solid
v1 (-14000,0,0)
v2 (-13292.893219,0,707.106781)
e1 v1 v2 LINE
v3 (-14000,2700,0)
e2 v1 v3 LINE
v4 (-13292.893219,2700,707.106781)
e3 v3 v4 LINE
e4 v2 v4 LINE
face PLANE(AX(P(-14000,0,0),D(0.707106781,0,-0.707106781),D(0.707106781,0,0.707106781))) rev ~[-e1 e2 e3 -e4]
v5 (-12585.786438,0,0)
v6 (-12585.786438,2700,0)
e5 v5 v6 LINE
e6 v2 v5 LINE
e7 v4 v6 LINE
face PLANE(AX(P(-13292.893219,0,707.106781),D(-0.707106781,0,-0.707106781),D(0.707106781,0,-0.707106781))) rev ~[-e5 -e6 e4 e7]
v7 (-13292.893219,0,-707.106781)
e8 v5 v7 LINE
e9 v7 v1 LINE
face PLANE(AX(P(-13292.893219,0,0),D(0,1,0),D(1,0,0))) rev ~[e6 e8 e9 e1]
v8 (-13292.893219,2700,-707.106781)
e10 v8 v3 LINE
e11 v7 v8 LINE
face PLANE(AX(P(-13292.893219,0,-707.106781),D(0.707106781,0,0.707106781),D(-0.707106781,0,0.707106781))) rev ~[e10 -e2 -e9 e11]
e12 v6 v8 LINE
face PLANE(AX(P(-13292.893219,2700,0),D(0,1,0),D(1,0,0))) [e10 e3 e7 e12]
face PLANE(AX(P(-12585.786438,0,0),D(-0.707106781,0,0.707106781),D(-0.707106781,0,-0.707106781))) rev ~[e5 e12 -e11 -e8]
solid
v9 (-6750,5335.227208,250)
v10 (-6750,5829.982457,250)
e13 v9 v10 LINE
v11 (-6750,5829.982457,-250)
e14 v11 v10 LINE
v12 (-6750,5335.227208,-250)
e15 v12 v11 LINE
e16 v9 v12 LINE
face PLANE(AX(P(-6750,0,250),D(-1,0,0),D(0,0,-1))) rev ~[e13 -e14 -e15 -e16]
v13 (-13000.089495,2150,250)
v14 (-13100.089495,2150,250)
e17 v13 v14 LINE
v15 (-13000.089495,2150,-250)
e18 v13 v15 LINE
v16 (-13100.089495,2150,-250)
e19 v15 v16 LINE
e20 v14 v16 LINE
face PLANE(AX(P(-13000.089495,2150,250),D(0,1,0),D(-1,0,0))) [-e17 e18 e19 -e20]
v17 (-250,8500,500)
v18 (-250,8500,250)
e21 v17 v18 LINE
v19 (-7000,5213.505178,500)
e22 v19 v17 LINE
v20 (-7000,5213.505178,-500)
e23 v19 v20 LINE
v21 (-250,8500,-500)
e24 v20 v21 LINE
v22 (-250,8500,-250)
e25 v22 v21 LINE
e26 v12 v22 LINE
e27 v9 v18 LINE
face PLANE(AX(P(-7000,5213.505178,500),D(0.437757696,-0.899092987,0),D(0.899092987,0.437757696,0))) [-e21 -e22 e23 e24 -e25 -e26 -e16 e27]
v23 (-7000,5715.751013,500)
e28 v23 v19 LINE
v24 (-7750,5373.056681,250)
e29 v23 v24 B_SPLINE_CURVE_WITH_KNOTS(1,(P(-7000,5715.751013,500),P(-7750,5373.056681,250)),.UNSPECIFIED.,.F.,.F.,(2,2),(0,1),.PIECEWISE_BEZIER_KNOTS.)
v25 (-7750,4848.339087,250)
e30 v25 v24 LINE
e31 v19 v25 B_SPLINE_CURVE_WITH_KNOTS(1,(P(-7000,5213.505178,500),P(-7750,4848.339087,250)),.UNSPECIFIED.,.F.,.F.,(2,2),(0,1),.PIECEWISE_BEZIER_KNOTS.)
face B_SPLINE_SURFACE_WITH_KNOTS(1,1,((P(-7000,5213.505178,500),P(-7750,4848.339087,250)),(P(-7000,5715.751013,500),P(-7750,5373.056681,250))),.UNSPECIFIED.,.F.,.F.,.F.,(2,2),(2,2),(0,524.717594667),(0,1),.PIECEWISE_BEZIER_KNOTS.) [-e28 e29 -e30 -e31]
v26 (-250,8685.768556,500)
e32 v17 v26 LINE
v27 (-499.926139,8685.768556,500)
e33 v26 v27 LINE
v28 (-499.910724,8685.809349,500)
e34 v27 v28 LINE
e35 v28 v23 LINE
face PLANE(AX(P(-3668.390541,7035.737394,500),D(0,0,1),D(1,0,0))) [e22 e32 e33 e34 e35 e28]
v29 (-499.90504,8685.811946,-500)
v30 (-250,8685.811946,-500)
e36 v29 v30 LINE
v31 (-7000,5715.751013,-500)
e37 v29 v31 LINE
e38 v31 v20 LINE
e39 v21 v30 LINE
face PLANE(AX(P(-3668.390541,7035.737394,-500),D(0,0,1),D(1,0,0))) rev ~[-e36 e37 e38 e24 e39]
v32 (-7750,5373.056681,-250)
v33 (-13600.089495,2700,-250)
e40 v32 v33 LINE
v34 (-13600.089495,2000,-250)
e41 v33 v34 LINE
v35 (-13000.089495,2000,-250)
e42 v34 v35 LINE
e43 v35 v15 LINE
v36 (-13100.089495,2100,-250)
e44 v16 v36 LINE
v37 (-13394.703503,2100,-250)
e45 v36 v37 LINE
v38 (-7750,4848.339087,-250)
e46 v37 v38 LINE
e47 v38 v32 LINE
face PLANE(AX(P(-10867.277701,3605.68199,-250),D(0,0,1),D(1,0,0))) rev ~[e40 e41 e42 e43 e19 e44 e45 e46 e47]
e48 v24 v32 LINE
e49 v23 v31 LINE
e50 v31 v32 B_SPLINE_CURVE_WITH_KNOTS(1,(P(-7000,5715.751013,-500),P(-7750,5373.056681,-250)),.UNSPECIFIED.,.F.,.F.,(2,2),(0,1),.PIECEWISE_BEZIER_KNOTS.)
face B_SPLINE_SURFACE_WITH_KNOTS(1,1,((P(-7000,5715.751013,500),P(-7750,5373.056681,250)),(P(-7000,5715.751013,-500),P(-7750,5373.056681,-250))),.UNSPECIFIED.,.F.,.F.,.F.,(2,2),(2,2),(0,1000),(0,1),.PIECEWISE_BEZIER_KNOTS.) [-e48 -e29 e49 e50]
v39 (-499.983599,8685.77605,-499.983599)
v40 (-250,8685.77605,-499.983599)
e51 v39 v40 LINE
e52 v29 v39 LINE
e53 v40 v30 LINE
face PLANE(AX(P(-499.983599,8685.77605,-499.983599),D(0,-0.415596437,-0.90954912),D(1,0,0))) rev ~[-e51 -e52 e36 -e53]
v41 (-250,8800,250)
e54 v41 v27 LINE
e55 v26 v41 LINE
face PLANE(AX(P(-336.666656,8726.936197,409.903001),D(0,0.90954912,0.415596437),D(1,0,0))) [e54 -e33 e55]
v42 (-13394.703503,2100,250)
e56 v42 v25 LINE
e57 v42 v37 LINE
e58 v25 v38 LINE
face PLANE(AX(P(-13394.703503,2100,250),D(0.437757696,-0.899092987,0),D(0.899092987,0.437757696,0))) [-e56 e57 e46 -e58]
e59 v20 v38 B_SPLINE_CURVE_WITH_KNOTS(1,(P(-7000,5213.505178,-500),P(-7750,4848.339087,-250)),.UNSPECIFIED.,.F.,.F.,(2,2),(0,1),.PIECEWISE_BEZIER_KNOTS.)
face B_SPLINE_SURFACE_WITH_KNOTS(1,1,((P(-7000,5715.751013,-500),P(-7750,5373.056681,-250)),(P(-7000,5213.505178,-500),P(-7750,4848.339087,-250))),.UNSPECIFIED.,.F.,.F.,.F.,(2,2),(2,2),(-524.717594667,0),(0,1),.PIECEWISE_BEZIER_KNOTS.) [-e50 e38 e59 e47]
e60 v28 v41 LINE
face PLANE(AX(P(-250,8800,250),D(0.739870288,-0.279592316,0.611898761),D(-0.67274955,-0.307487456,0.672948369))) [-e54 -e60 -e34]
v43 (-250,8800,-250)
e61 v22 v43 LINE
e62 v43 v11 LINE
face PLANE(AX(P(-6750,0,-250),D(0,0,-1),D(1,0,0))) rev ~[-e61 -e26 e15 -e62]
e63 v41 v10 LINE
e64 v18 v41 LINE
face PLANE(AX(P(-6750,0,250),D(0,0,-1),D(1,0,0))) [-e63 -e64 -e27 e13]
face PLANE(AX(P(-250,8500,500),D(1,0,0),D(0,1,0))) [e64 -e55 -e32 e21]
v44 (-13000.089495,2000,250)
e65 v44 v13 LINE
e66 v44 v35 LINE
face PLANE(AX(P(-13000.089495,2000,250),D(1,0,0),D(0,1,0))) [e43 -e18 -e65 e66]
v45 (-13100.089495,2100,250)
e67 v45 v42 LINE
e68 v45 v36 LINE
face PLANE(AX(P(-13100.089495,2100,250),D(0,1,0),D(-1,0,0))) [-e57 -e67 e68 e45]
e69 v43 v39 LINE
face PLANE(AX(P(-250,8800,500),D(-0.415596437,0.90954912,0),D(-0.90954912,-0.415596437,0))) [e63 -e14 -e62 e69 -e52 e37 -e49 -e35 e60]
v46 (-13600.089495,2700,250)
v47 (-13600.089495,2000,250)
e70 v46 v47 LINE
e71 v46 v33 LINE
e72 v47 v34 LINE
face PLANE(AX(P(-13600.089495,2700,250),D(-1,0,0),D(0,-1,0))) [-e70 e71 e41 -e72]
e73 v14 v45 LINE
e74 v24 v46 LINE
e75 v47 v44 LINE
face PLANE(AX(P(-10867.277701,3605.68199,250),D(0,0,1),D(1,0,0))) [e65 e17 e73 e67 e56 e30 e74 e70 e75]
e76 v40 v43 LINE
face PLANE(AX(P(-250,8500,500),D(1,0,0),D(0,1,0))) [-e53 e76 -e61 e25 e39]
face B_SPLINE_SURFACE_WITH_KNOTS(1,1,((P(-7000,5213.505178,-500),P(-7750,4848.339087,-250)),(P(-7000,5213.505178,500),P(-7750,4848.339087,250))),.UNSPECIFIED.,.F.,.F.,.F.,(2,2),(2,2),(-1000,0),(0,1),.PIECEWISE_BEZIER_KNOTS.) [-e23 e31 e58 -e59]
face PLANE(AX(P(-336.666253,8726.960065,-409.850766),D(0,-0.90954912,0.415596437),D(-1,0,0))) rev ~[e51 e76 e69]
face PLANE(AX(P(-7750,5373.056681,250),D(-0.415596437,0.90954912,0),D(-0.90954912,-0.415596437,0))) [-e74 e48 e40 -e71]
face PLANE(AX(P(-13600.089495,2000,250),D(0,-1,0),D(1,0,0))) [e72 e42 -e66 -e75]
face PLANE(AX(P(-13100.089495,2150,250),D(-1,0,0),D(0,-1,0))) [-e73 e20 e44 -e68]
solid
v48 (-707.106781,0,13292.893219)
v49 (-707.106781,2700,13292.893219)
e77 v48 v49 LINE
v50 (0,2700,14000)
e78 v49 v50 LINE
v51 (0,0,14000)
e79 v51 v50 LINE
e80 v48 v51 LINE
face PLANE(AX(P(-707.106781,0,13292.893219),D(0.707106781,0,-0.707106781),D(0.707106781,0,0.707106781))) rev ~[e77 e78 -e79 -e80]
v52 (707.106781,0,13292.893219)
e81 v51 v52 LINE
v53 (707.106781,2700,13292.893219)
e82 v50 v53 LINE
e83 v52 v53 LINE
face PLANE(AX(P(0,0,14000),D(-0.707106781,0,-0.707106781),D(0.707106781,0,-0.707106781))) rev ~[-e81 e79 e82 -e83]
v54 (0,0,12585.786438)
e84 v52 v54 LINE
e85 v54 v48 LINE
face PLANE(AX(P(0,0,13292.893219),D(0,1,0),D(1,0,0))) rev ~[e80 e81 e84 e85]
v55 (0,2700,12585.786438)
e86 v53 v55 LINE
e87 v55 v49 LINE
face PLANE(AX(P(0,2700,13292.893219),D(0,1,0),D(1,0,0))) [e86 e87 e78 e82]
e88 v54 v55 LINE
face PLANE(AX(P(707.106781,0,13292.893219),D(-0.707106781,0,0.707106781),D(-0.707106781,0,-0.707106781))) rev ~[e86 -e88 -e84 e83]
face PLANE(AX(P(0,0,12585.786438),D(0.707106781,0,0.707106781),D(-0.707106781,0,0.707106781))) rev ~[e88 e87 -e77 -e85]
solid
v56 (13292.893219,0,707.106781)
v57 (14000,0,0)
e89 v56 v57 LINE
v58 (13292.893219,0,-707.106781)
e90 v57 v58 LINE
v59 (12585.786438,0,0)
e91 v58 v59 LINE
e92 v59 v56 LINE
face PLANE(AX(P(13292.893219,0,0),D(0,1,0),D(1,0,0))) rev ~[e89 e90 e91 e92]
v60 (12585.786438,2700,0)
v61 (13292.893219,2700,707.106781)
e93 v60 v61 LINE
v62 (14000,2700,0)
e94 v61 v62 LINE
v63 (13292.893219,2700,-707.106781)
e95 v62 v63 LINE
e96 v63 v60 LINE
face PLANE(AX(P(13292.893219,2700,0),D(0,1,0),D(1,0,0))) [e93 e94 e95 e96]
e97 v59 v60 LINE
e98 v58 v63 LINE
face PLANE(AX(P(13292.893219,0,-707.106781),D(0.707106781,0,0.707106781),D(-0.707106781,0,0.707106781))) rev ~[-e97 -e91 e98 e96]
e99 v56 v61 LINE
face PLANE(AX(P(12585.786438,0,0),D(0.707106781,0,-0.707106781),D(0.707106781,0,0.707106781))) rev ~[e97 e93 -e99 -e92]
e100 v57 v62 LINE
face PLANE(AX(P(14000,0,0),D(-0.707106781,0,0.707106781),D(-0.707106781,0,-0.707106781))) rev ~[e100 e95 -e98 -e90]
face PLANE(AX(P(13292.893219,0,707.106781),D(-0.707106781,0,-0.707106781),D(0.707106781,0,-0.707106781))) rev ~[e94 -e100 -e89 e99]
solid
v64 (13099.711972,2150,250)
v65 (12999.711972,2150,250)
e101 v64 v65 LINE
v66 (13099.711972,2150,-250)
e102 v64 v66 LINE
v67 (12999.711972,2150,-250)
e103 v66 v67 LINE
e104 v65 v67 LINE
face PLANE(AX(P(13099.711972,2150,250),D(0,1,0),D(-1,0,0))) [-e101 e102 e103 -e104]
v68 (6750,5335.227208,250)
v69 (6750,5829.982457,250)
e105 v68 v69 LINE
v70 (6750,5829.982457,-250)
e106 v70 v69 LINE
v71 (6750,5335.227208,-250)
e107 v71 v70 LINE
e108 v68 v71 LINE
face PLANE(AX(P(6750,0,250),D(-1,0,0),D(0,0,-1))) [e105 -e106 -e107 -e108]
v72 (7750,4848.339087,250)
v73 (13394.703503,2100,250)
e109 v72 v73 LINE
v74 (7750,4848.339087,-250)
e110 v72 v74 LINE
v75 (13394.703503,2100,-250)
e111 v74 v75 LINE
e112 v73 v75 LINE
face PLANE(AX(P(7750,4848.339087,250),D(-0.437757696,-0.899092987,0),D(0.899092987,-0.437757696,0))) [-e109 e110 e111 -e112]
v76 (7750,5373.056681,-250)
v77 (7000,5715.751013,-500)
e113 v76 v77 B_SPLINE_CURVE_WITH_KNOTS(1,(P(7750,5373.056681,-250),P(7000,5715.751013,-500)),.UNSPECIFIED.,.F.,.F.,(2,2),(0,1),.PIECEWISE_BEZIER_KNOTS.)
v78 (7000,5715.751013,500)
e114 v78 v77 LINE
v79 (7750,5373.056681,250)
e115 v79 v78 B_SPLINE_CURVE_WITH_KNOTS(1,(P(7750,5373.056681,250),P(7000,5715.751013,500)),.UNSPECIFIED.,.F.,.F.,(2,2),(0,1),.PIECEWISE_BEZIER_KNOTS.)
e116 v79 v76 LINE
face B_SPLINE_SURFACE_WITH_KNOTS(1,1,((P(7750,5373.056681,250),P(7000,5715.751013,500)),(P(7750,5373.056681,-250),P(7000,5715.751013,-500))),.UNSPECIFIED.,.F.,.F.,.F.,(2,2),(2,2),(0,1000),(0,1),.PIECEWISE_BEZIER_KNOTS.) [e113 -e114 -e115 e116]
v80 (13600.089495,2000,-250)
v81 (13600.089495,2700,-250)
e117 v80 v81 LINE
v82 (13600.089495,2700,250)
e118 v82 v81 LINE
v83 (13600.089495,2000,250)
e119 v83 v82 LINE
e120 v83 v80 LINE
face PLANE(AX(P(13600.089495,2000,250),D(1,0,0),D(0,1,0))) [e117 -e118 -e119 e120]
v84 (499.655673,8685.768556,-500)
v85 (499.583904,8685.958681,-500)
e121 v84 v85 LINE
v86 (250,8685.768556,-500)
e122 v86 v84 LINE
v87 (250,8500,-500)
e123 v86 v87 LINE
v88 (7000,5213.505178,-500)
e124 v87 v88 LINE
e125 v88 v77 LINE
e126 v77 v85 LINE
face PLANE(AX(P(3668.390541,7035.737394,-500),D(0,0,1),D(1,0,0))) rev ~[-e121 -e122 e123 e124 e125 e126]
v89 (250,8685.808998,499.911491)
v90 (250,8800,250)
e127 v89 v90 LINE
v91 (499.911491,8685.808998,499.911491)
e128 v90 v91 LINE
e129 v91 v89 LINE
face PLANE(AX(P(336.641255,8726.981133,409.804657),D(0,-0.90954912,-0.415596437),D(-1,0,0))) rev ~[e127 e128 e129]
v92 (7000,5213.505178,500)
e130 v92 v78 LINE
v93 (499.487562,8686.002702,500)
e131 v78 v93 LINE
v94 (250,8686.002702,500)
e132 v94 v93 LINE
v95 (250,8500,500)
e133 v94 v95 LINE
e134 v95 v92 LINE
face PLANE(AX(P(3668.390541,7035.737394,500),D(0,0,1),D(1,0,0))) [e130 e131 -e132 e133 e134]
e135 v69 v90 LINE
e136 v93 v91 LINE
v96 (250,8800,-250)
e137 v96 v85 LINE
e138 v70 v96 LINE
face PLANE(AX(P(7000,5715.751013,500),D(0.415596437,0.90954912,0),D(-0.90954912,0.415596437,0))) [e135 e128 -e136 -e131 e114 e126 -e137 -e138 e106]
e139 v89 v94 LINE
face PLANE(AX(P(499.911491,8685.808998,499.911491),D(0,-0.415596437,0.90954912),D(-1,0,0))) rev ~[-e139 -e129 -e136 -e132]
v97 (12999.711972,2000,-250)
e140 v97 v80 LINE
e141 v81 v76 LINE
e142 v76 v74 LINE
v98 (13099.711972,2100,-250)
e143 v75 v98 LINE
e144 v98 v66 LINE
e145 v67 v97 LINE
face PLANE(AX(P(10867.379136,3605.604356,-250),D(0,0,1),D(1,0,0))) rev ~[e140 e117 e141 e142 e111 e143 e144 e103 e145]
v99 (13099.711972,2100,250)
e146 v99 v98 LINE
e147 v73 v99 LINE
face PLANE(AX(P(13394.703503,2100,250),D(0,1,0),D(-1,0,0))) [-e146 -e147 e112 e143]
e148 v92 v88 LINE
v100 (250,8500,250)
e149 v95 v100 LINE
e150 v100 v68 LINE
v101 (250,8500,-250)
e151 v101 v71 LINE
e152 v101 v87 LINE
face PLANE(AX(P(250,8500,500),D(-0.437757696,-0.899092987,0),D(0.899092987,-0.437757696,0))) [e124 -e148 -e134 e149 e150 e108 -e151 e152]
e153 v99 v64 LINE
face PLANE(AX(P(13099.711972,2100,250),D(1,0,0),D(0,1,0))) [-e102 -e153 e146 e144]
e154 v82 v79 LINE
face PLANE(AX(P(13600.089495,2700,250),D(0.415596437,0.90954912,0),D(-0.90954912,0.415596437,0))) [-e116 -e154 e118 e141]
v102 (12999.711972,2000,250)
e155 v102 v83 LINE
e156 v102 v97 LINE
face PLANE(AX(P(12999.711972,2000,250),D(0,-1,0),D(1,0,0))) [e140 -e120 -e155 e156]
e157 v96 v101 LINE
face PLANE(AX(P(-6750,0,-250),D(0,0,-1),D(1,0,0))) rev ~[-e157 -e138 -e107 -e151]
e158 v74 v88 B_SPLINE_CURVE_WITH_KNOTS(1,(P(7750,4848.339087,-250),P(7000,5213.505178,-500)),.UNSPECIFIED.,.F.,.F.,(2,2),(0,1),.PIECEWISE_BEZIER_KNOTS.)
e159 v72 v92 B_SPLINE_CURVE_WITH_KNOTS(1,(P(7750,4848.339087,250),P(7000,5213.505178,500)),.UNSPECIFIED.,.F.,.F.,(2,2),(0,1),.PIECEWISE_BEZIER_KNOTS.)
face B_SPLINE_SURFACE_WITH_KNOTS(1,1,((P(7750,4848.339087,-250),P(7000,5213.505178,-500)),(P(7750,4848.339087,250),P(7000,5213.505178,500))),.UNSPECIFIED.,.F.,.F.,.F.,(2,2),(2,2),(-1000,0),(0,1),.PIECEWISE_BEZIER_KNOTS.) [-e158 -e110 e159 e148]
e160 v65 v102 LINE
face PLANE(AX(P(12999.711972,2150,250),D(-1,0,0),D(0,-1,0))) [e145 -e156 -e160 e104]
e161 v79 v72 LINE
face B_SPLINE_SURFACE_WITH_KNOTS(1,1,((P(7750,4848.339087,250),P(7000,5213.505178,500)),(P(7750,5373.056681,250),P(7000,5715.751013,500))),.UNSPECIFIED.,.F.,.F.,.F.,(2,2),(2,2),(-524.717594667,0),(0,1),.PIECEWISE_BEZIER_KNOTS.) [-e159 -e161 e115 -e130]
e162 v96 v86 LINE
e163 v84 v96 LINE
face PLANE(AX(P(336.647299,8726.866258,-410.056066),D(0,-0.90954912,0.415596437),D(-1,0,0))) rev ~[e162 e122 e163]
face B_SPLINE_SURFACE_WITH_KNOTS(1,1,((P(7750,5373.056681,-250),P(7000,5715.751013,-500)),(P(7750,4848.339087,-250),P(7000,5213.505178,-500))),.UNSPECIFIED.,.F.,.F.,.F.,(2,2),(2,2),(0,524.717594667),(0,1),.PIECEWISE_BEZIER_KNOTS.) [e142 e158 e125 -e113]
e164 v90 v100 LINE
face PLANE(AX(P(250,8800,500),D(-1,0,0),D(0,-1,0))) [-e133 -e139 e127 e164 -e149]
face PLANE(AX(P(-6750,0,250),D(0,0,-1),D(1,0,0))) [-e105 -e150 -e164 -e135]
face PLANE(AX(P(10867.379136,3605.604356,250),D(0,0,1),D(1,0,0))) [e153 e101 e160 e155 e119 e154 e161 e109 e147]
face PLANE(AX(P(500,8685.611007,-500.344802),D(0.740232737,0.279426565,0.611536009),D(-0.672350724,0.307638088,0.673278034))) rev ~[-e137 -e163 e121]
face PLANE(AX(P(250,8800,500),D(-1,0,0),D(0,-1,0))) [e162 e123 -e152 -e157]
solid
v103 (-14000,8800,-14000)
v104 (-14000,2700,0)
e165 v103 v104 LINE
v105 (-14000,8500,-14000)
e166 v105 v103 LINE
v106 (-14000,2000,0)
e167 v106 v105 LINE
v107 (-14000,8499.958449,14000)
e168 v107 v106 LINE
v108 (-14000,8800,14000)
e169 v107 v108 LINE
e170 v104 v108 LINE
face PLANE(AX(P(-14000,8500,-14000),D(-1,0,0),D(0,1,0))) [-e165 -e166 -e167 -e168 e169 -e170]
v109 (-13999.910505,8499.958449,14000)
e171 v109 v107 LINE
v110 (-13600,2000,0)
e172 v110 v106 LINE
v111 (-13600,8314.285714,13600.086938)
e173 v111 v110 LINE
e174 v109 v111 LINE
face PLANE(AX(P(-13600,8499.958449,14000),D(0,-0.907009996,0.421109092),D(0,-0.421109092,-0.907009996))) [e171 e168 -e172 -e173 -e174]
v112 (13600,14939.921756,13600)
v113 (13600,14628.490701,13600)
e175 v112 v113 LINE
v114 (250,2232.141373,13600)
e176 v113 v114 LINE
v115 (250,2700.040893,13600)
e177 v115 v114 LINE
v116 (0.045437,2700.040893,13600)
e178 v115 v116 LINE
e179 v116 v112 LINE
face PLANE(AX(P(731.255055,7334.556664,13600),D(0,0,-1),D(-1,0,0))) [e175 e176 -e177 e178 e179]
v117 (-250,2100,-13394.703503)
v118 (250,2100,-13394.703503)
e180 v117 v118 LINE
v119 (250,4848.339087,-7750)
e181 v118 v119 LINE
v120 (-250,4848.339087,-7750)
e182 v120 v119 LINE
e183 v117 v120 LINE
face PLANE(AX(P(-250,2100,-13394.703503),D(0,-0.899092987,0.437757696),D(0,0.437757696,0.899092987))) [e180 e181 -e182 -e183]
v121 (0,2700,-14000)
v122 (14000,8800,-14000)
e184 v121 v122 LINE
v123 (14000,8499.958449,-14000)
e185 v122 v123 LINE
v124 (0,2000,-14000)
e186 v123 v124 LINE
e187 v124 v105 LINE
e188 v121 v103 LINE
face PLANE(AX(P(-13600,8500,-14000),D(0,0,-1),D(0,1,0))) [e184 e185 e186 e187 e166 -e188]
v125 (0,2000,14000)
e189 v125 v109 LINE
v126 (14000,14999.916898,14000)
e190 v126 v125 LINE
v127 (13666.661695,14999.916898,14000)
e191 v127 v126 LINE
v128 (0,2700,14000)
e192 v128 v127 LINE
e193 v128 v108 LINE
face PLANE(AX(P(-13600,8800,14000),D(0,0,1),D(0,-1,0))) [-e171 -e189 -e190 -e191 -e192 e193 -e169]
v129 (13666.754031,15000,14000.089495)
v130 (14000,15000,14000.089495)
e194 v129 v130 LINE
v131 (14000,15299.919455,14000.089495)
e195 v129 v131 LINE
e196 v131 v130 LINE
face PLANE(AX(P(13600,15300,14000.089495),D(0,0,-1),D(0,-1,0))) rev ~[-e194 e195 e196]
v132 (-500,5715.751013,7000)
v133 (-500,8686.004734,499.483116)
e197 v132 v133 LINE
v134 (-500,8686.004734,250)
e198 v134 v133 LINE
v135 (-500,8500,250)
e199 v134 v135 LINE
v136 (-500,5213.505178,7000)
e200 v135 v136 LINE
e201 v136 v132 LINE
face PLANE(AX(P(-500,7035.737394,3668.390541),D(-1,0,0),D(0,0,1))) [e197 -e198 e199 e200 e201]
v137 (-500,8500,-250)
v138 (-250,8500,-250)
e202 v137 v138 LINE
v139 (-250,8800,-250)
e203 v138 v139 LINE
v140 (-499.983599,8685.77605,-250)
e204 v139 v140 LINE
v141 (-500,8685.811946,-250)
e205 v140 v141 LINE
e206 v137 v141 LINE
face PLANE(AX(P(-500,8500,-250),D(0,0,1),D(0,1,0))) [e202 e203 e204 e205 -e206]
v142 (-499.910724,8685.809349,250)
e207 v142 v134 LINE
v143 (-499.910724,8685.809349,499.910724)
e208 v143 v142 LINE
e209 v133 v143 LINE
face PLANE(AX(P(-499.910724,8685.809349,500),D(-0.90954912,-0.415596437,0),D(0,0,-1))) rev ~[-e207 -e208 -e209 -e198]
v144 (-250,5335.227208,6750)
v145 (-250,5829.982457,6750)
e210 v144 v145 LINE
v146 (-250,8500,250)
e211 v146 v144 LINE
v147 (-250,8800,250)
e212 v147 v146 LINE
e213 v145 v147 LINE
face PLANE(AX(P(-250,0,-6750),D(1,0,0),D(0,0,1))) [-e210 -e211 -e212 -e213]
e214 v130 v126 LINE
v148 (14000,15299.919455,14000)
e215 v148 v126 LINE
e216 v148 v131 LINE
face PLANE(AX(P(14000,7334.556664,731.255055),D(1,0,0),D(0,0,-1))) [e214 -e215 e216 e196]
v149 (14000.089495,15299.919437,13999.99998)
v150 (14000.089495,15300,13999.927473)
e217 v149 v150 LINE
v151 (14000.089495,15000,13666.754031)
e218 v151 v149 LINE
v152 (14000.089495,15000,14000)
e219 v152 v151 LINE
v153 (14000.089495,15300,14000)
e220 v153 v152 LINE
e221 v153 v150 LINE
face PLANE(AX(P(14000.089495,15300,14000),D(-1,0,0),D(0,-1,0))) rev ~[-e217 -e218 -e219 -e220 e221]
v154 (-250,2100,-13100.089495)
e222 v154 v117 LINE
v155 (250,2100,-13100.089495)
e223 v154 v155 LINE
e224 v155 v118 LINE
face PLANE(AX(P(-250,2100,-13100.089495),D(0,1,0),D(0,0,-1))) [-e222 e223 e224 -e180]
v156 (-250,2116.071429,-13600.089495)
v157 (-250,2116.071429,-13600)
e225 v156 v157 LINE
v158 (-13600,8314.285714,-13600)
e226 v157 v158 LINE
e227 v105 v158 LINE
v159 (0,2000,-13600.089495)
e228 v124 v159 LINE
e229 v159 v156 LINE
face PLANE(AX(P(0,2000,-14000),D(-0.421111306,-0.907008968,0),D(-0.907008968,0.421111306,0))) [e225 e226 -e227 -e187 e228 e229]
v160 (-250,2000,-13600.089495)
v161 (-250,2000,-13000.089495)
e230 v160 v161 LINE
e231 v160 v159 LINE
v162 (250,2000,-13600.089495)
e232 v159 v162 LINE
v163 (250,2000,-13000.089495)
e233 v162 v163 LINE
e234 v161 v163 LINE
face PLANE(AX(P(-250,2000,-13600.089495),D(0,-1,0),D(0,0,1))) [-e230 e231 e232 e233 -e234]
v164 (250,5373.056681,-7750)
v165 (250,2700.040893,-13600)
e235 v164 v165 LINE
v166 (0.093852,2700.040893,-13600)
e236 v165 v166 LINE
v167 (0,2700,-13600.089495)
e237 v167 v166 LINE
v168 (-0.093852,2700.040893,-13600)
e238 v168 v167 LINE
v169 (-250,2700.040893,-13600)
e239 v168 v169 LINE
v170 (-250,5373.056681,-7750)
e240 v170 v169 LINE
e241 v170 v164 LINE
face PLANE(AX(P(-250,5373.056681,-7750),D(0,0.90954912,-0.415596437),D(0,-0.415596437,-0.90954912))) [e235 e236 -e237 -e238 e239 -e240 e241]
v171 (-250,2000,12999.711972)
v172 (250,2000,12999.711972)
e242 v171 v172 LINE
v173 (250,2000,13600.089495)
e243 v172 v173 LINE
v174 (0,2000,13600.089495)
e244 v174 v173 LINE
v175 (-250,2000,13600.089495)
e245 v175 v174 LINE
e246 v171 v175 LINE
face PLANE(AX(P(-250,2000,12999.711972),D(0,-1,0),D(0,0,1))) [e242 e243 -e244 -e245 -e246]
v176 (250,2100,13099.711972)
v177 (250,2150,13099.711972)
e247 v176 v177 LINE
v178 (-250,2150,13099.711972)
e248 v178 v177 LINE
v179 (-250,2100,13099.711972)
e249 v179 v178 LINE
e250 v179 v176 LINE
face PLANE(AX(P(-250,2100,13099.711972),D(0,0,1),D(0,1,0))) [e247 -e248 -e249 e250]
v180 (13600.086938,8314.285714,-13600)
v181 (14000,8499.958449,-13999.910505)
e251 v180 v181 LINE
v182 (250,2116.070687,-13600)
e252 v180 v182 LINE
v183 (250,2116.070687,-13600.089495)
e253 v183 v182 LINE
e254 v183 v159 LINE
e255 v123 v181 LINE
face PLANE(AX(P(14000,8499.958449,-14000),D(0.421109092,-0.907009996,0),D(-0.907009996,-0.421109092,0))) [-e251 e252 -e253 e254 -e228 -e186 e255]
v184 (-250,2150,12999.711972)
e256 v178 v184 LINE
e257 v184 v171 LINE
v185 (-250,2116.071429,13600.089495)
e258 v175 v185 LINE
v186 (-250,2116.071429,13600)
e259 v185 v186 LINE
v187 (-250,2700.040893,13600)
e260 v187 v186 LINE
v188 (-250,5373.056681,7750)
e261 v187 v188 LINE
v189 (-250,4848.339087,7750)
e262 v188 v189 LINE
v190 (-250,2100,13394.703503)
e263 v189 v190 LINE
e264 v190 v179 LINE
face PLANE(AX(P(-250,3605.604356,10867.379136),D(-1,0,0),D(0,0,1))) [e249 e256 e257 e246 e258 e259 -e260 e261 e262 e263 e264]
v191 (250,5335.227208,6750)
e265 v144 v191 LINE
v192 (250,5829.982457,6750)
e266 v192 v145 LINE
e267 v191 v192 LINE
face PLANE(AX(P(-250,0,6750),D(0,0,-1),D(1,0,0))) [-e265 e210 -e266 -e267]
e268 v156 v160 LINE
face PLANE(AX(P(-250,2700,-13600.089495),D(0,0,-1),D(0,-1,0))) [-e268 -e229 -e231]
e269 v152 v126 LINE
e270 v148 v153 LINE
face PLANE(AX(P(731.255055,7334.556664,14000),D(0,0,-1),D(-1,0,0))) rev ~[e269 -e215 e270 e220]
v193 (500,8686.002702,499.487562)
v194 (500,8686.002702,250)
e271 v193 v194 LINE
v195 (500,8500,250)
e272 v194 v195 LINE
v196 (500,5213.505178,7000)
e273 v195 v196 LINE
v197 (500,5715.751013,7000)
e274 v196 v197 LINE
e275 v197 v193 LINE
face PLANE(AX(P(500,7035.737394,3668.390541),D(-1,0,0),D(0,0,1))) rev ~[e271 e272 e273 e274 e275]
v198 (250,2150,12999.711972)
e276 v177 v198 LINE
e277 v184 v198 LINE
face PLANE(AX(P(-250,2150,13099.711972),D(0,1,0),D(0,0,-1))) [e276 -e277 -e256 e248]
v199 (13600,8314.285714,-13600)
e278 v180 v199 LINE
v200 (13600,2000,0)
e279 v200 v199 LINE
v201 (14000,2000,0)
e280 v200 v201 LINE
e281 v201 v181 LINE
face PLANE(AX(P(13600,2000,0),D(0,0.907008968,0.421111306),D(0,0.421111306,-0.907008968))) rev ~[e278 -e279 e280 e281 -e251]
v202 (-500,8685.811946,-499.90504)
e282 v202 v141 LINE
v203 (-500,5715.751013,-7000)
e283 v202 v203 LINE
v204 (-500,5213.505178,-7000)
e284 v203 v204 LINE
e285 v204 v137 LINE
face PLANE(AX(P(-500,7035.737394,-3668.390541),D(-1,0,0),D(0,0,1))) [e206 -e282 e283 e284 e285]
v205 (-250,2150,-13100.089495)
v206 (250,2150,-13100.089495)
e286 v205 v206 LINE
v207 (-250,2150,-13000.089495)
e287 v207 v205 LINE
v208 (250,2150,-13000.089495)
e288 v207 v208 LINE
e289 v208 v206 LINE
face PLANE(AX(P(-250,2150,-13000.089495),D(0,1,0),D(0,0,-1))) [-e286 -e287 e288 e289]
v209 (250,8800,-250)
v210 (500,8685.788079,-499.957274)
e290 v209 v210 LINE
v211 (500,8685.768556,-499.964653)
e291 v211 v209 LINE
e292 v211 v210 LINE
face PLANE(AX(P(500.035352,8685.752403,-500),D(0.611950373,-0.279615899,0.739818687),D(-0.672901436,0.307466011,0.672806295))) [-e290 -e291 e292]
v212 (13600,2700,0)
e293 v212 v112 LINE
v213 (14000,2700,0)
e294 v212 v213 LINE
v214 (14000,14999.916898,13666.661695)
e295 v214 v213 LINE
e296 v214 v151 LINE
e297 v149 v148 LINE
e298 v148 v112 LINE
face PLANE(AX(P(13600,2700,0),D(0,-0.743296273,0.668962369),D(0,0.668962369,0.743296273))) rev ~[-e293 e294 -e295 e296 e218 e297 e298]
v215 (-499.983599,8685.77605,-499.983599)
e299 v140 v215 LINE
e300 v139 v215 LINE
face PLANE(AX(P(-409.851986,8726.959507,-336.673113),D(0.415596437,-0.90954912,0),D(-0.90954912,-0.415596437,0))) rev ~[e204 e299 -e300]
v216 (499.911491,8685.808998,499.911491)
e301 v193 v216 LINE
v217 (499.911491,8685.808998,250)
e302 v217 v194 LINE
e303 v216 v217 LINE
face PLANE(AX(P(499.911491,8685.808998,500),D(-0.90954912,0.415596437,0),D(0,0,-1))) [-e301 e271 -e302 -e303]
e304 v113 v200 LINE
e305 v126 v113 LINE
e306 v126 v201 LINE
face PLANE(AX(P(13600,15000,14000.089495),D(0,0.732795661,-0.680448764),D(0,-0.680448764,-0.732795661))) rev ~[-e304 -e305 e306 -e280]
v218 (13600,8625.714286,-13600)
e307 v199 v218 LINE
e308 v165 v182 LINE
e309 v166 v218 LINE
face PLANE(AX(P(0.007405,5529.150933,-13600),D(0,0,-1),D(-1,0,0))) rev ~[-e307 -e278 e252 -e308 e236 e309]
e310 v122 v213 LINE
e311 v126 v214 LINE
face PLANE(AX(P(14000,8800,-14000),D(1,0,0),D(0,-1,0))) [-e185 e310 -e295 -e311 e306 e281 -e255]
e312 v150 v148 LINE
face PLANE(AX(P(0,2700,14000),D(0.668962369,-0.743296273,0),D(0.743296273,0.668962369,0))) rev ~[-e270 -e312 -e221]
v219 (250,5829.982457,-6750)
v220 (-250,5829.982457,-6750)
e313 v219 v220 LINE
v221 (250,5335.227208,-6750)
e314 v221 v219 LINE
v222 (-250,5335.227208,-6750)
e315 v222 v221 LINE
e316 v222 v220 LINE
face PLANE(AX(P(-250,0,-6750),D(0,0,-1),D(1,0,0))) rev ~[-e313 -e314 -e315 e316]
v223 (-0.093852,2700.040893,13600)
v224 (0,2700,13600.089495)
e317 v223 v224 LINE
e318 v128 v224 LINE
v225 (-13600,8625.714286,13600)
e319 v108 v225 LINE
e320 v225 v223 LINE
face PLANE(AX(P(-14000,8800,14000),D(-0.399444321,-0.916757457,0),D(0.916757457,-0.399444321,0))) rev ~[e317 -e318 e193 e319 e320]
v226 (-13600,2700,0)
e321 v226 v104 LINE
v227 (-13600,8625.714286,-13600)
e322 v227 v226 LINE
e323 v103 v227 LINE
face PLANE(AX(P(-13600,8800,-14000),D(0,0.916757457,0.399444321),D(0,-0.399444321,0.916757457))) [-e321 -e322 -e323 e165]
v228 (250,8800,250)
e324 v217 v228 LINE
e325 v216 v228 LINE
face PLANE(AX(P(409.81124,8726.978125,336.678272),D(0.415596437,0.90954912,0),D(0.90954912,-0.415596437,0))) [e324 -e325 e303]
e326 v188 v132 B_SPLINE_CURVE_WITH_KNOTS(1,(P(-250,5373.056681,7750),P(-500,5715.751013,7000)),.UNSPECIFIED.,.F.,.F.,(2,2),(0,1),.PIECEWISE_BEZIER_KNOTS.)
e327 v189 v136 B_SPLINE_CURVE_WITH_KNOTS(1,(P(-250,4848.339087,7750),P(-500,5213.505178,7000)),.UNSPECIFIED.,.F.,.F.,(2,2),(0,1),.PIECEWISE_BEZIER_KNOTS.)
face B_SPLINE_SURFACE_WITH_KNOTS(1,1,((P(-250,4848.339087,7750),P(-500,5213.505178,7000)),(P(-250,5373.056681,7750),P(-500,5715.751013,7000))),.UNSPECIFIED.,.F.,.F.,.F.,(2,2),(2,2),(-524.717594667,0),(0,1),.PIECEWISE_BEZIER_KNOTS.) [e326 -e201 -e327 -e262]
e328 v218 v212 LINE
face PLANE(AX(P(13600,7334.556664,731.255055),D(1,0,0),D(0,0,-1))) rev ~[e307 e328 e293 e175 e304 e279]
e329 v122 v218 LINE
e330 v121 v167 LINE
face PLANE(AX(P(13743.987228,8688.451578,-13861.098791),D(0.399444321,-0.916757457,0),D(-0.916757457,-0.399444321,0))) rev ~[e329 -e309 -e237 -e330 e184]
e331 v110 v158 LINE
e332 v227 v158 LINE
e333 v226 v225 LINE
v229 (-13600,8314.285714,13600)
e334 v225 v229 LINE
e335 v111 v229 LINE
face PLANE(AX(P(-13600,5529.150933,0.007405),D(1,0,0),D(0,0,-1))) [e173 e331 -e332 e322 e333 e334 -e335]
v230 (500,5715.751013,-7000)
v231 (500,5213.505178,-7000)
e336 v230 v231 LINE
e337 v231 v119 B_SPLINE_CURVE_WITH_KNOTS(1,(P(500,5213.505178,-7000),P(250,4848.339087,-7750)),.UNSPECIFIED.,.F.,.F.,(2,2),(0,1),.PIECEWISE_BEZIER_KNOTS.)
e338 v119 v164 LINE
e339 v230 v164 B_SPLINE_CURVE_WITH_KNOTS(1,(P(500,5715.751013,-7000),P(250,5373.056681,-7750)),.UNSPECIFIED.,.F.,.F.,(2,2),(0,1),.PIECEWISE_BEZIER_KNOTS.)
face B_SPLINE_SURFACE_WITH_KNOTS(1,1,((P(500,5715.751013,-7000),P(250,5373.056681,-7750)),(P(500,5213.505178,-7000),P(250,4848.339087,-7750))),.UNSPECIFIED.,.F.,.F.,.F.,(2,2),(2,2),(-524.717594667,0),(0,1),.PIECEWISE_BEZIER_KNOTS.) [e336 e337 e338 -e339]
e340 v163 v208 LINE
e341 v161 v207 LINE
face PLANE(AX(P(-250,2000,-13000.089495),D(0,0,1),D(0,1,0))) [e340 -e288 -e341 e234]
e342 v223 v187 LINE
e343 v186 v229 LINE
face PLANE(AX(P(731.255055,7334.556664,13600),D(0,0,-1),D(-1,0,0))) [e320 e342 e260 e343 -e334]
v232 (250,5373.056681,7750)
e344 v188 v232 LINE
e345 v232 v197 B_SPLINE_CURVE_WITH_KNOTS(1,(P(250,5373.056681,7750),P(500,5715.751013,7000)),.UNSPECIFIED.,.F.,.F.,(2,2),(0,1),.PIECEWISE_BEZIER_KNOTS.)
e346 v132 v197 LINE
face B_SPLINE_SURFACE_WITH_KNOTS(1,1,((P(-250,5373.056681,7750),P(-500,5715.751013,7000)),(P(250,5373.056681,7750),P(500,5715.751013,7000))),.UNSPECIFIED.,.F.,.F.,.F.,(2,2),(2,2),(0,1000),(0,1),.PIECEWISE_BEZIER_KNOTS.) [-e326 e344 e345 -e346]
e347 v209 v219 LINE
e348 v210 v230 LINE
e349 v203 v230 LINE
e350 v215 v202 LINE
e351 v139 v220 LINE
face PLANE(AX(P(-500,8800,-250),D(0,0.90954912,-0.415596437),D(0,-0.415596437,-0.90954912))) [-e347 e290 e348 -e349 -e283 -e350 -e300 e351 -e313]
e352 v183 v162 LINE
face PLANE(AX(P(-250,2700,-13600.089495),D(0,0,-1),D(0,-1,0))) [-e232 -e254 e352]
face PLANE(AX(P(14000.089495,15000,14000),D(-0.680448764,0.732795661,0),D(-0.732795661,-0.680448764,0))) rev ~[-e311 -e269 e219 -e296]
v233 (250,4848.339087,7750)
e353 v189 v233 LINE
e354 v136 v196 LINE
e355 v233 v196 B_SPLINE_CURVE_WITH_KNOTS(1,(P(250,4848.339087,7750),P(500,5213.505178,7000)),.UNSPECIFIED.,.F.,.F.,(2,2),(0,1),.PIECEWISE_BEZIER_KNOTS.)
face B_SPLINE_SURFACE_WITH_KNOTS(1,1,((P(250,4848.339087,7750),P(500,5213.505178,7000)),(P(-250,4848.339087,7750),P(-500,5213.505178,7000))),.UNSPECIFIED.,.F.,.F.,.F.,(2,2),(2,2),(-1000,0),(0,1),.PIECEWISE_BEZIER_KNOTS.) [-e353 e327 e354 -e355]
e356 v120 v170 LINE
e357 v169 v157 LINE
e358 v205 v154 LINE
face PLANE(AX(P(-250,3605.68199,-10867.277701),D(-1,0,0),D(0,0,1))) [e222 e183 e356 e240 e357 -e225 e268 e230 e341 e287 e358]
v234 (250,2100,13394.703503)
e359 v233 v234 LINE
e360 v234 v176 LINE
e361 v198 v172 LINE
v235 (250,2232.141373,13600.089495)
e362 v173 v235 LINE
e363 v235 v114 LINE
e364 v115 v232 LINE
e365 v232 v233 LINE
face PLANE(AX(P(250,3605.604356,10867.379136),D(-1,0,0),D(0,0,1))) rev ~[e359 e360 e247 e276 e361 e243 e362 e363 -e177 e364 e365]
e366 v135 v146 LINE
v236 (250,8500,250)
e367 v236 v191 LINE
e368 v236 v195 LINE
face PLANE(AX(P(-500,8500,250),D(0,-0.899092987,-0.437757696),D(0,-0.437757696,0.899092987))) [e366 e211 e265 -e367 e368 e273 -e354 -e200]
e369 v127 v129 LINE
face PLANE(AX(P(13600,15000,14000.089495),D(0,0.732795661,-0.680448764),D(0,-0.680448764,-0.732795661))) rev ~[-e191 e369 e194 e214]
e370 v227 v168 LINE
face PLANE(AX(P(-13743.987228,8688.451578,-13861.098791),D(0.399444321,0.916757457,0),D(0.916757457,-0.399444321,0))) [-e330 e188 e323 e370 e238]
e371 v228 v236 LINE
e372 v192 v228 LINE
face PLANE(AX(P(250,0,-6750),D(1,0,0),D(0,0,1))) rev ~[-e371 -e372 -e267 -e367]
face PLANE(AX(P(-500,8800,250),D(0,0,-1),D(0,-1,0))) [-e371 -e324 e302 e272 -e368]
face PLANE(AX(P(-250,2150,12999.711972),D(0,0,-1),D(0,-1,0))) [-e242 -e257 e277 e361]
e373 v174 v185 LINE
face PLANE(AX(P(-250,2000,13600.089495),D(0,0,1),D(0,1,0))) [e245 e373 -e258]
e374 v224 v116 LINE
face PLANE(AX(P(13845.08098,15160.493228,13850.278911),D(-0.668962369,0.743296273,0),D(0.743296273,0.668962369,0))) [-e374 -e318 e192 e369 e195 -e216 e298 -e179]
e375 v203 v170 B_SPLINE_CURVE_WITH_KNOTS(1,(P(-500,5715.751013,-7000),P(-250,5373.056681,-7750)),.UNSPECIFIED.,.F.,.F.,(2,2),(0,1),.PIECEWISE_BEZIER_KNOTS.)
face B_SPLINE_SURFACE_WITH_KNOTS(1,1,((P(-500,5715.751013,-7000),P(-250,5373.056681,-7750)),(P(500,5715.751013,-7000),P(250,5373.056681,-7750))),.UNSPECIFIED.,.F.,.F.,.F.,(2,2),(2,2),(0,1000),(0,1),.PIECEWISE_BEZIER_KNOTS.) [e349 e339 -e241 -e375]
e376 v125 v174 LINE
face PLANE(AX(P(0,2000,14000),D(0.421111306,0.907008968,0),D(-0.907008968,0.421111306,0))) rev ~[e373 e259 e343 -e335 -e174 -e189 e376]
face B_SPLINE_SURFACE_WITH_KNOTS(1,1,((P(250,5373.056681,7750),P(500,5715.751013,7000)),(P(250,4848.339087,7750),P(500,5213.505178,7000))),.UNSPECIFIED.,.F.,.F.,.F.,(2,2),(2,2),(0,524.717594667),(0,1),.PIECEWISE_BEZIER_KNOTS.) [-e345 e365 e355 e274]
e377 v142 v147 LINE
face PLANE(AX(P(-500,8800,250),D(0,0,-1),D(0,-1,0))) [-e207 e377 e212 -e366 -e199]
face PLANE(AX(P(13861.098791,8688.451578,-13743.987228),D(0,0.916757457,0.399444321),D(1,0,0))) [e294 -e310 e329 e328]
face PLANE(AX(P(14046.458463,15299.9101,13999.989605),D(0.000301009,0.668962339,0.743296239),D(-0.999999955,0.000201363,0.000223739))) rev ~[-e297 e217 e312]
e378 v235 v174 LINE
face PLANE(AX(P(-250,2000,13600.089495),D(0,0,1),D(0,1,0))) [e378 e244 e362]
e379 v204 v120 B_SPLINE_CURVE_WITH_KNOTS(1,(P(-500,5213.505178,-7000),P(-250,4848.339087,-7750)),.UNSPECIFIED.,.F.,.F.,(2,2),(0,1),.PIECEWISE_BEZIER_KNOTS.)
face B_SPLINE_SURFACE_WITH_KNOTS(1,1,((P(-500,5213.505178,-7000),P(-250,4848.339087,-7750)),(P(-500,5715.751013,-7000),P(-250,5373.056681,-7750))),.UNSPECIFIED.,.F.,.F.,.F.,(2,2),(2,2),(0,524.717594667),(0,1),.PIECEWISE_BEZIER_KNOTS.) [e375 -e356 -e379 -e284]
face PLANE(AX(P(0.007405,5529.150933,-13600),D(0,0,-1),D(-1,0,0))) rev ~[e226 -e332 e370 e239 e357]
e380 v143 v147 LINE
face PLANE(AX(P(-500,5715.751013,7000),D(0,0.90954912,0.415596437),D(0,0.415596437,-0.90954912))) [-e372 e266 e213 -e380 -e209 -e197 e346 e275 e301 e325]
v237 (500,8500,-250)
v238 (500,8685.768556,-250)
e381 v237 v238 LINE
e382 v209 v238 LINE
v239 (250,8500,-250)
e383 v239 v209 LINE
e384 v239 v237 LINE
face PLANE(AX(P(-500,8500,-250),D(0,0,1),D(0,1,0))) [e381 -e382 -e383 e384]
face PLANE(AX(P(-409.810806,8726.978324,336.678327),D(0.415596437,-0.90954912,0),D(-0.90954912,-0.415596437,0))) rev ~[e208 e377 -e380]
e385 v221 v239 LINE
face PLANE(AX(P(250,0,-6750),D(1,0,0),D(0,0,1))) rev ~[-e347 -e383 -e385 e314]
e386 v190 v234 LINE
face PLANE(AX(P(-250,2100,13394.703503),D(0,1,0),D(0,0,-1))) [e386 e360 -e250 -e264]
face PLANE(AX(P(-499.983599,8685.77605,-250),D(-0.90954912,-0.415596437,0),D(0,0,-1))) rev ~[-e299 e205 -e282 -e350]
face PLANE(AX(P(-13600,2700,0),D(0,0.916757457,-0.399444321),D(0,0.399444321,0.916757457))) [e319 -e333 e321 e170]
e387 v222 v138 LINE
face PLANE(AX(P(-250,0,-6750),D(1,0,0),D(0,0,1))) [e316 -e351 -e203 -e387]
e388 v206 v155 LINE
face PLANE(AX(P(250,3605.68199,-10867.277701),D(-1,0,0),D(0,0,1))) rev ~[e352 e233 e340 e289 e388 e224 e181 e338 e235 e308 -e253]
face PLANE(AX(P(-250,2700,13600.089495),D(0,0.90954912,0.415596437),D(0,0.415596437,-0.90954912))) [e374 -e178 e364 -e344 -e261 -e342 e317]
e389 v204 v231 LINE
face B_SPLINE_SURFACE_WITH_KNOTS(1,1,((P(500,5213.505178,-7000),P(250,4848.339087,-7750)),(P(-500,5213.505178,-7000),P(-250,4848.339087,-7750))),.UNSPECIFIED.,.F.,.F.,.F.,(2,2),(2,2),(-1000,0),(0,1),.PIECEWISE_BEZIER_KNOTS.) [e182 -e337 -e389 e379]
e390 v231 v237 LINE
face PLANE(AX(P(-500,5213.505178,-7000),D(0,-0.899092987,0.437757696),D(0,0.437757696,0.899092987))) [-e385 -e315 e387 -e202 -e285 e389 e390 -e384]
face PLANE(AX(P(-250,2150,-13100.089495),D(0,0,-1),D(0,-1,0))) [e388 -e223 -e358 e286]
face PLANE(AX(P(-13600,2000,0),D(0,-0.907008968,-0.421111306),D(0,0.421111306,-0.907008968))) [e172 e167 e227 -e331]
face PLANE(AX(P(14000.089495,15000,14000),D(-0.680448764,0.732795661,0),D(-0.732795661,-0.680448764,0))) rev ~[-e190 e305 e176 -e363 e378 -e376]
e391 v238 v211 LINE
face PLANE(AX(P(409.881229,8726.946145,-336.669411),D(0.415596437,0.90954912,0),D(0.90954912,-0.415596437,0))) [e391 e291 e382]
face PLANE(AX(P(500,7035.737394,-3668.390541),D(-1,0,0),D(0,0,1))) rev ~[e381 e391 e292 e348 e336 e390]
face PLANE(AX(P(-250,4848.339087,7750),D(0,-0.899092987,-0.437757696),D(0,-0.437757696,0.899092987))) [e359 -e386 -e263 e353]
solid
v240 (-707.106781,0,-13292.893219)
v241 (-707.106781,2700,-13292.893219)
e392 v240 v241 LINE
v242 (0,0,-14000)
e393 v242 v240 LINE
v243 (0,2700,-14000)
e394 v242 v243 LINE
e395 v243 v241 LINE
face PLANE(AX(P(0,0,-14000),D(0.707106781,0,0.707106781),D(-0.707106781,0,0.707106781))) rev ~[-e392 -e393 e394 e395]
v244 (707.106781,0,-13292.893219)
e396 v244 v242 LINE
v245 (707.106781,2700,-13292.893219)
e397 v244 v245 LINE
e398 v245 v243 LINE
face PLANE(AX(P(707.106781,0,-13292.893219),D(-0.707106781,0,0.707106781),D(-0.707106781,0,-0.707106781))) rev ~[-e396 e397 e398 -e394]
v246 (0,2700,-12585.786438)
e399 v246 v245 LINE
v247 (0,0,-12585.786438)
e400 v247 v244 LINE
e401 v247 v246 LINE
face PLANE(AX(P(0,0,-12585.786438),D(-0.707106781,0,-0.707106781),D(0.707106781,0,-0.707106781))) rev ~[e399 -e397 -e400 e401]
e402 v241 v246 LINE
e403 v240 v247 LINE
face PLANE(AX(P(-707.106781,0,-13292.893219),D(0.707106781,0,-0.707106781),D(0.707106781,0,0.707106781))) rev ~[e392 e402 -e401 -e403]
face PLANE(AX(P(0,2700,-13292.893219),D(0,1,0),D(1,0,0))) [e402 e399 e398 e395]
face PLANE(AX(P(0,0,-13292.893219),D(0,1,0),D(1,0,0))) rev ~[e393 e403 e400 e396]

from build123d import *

# Parameters (mm, degrees)
V_CENTRAL_DEPTH           = 500
V_CENTRAL_2_DEPTH         = 500
SALIENTE_EXTRUIR2_DEPTH   = 1000
SALIENTE_EXTRUIR2_2_DEPTH = 1000
HUECO_W                   = 13500
HUECO_H                   = 500
HUECO_CENITAL_DEPTH       = 9837
MATRIZC12_COUNT           = 2
MATRIZC12_ANGLE           = 90
CORTAR_EXTRUIR3_DEPTH     = 150
CORTAR_EXTRUIR4_DEPTH     = 150
CORTAR_EXTRUIR5_DEPTH     = 150
CORTAR_EXTRUIR6_DEPTH     = 150
VIGA_BORDE_C_1_DEPTH      = 400
MATRIZC15_COUNT           = 2
MATRIZC15_ANGLE           = 90
CORTAR_EXTRUIR7_DEPTH     = 400
CROQUIS14_W               = 659.443586075
CROQUIS14_H               = 500.557822025
CORTAR_EXTRUIR8_DEPTH     = 400
VIGA_BORDE_A_3_DEPTH      = 400
MATRIZC16_COUNT           = 2
MATRIZC16_ANGLE           = 90
CORTAR_EXTRUIR9_DEPTH     = 400
CORTAR_EXTRUIR10_DEPTH    = 400
CORTAR_EXTRUIR11_DEPTH    = 400
CORTAR_EXTRUIR12_DEPTH    = 400
CORTAR_EXTRUIR13_DEPTH    = 400
CORTAR_EXTRUIR14_DEPTH    = 400
SALIENTE_EXTRUIR6_DEPTH   = 2700
SALIENTE_EXTRUIR6_2_DEPTH = 2700
SALIENTE_EXTRUIR6_3_DEPTH = 2700
SALIENTE_EXTRUIR6_4_DEPTH = 2700


with BuildPart() as part:
    # Croquis5 → V Central (new body)
    with BuildSketch(Plane.XY.offset(250)):
        Polygon((-13600.08949546, 2000), (-13000.08949546, 2000), (-13000.08949546, 2150), (-13100.08949546, 2150), (-13100.08949546, 2100), (-13394.703503223, 2100), (-7750, 4848.339086672), (-7750, 5373.056681339), (-13600.08949546, 2700), align=None)
    extrude(amount=-V_CENTRAL_DEPTH)


with BuildPart() as body_2:
    # Croquis5 → V Central 2 (new body)
    with BuildSketch(Plane.XY.offset(250)):
        Polygon((7750, 5373.056681339), (7750, 4848.339086672), (13394.703503223, 2100), (13099.711971619, 2100), (13099.711971619, 2150), (12999.711971619, 2150), (12999.711971619, 2000), (13600.089495461, 2000), (13600.089495461, 2700), align=None)
    extrude(amount=-V_CENTRAL_2_DEPTH)



with BuildPart() as body_3:
    # V Central Cenital → Saliente-Extruir2 (new body)
    with BuildSketch(Plane.XY.offset(500)):
        Polygon((7000, 5213.505178005), (7000, 5715.751013205), (250, 8800), (250, 8500), align=None)
    extrude(amount=-SALIENTE_EXTRUIR2_DEPTH)


with BuildPart() as body_4:
    # V Central Cenital → Saliente-Extruir2 2 (new body)
    with BuildSketch(Plane.XY.offset(500)):
        Polygon((-250, 8500), (-250, 8800), (-7000, 5715.751013205), (-7000, 5213.505178005), align=None)
    extrude(amount=-SALIENTE_EXTRUIR2_2_DEPTH)


    add(part.part)  # recubrir5 joins it to this body
    # loft from a face of the part (recubrir5)
    loft([body_4.faces().sort_by_distance((-7000, 5464.628095605, 0))[0], body_4.faces().sort_by_distance((-7750, 5110.697884006, 0))[0]])


with BuildPart() as body_2_1:
    add(body_2.part)

    add(body_3.part)  # recubrir6 joins it to this body
    # loft from a face of the part (recubrir6)
    loft([body_2_1.faces().sort_by_distance((7750, 5110.697884006, 0))[0], body_2_1.faces().sort_by_distance((7000, 5464.628095605, 0))[0]])


with BuildPart() as hueco_cenital_tool:
    # Hueco → Hueco cenital (new body)
    with BuildSketch(Plane(origin=(0, 0, 0), x_dir=(1, 0, 0), z_dir=(0, 1, 0))):
        Rectangle(HUECO_W, HUECO_H)
    extrude(amount=HUECO_CENITAL_DEPTH)


with BuildPart() as body_2_2:
    add(body_2_1.part)

    # Hueco cenital: cut by hueco_cenital_tool
    add(hueco_cenital_tool.part, mode=Mode.SUBTRACT)


with BuildPart() as body_4_1:
    add(body_4.part)

    # Hueco cenital: cut by hueco_cenital_tool
    add(hueco_cenital_tool.part, mode=Mode.SUBTRACT)


with BuildPart() as matrizc12_1:
    # MatrizC12: pattern copy
    add(body_2_2.part.rotate(Axis((0, 0, 0), (0, -1, 0)), 1 * MATRIZC12_ANGLE / (MATRIZC12_COUNT - 1)))


with BuildPart() as matrizc12_2:
    # MatrizC12: pattern copy
    add(body_4_1.part.rotate(Axis((0, 0, 0), (0, -1, 0)), 1 * MATRIZC12_ANGLE / (MATRIZC12_COUNT - 1)))


with BuildPart() as cortar_extruir3_tool:
    # Croquis8 → Cortar-Extruir3 (new body)
    with BuildSketch(Plane(origin=(3369.627388011, 7374.561835459, 0), x_dir=(0.9095491198215689, -0.4155964372222283, 0), z_dir=(0.4155964372222283, 0.9095491198215689, 0))):
        Polygon((-3429.8613676, -250), (-3155.097216856, -500), (-3155.097216856, -250), align=None)
        Polygon((-3429.8613676, 250), (-3154.961038643, 250), (-3154.961038643, 500), align=None)
    extrude(amount=CORTAR_EXTRUIR3_DEPTH)


with BuildPart() as matrizc12_1_1:
    add(matrizc12_1.part)

    # Cortar-Extruir3: cut by cortar_extruir3_tool
    add(cortar_extruir3_tool.part, mode=Mode.SUBTRACT)


with BuildPart() as matrizc12_2_1:
    add(matrizc12_2.part)

    # Cortar-Extruir3: cut by cortar_extruir3_tool
    add(cortar_extruir3_tool.part, mode=Mode.SUBTRACT)


with BuildPart() as cortar_extruir4_tool:
    # Croquis9 → Cortar-Extruir4 (new body)
    with BuildSketch(Plane(origin=(0, 7374.561835459, 3369.627388011), x_dir=(1, 0, 0), z_dir=(-1.4510472050511015e-15, 0.9095491198215689, 0.4155964372222283))):
        Polygon((250, 3429.8613676), (499.911491468, 3155.097216856), (250, 3155.097216856), align=None)
        Polygon((-250, 3429.8613676), (-500, 3154.918676232), (-250, 3154.918676232), align=None)
    extrude(amount=CORTAR_EXTRUIR4_DEPTH)


with BuildPart() as body_2_3:
    add(body_2_2.part)

    # Cortar-Extruir4: cut by cortar_extruir4_tool
    add(cortar_extruir4_tool.part, mode=Mode.SUBTRACT)


with BuildPart() as body_4_2:
    add(body_4_1.part)

    # Cortar-Extruir4: cut by cortar_extruir4_tool
    add(cortar_extruir4_tool.part, mode=Mode.SUBTRACT)


with BuildPart() as cortar_extruir5_tool:
    # Croquis10 → Cortar-Extruir5 (new body)
    with BuildSketch(Plane(origin=(-3369.627388011, 7374.561835459, 0), x_dir=(0.9095491198215687, 0.4155964372222282, 0), z_dir=(-0.4155964372222283, 0.9095491198215688, 0))):
        Polygon((3429.861367601, 250), (3155.017939079, 250), (3155.017939079, 500), align=None)
        Polygon((3155.098061094, -250), (3429.861367601, -250), (3155.098061094, -500), align=None)
    extrude(amount=CORTAR_EXTRUIR5_DEPTH)


with BuildPart() as matrizc12_1_2:
    add(matrizc12_1_1.part)

    # Cortar-Extruir5: cut by cortar_extruir5_tool
    add(cortar_extruir5_tool.part, mode=Mode.SUBTRACT)

    # Croquis12 → VIGA BORDE C-1 (add)
    with BuildSketch(Plane.XY.offset(14000)):
        Polygon((-14000, 8800), (0, 2700), (14000.089495461, 15300), (14000.089495461, 15000), (0, 2000), (-14000, 8500), align=None)
    viga_borde_c_1 = extrude(amount=-VIGA_BORDE_C_1_DEPTH)

    # MatrizC15: VIGA BORDE C-1 ×2 about axis
    matrizc15_axis = Axis((13800, 0, 13800), (0, -1, 0))
    for i in range(1, MATRIZC15_COUNT):
        add(viga_borde_c_1.rotate(matrizc15_axis, i * MATRIZC15_ANGLE / (MATRIZC15_COUNT - 1)))

    # Croquis13 → Cortar-Extruir7 (cut)
    with BuildSketch(Plane(origin=(0, 1491.721241974, -1342.540535542), x_dir=(1, 0, 0), z_dir=(2.283669573086975e-15, 0.7432962726122418, -0.6689623689870365))):
        Polygon((14046.458462562, -20641.204195829), (13600, -20641.338583716), (13600, -20103.074757832), (14046.458462562, -20103.074757832), align=None)
    extrude(amount=CORTAR_EXTRUIR7_DEPTH, mode=Mode.SUBTRACT)

    # Croquis14 → Cortar-Extruir8 (cut)
    with BuildSketch(Plane(origin=(-1342.540535542, 1491.721241974, 0), x_dir=(0.7432962726122418, 0.6689623689870365, 0), z_dir=(-0.6689623689870365, 0.7432962726122418, 0))):
        with Locations((20432.79655087, -13850.278911013)):
            Rectangle(CROQUIS14_W, CROQUIS14_H)
    extrude(amount=CORTAR_EXTRUIR8_DEPTH, mode=Mode.SUBTRACT)



with BuildPart() as matrizc12_2_2:
    add(matrizc12_2_1.part)

    # Cortar-Extruir5: cut by cortar_extruir5_tool
    add(cortar_extruir5_tool.part, mode=Mode.SUBTRACT)


with BuildPart() as cortar_extruir6_tool:
    # Croquis11 → Cortar-Extruir6 (new body)
    with BuildSketch(Plane(origin=(0, 7374.561835459, -3369.627388011), x_dir=(1, 0, 0), z_dir=(1.4510472050511017e-15, 0.9095491198215687, -0.4155964372222282))):
        Polygon((250, -3429.861367601), (250, -3154.620815718), (500, -3154.620815718), align=None)
        Polygon((-250, -3429.861367601), (-499.983598501, -3155.017939078), (-250, -3155.017939078), align=None)
    extrude(amount=CORTAR_EXTRUIR6_DEPTH)


with BuildPart() as body_2_4:
    add(body_2_3.part)

    # Cortar-Extruir6: cut by cortar_extruir6_tool
    add(cortar_extruir6_tool.part, mode=Mode.SUBTRACT)


with BuildPart() as body_4_3:
    add(body_4_2.part)

    # Cortar-Extruir6: cut by cortar_extruir6_tool
    add(cortar_extruir6_tool.part, mode=Mode.SUBTRACT)


with BuildPart() as matrizc12_1_3:
    add(matrizc12_1_2.part)

    add(matrizc12_2_2.part)  # VIGA BORDE A-3 merges MatrizC12_2
    # Croquis15 → VIGA BORDE A-3 (add)
    with BuildSketch(Plane.XY.offset(-14000)):
        Polygon((-14000, 8800), (0, 2700), (14000, 8800), (14000, 8499.958448801), (0, 2000), (-14000, 8500), align=None)
    viga_borde_a_3 = extrude(amount=VIGA_BORDE_A_3_DEPTH)

    # MatrizC16: VIGA BORDE A-3 ×2 about axis
    matrizc16_axis = Axis((-13800, 0, -13800), (0, -1, 0))
    for i in range(1, MATRIZC16_COUNT):
        add(viga_borde_a_3.rotate(matrizc16_axis, i * MATRIZC16_ANGLE / (MATRIZC16_COUNT - 1)))

    # Croquis16 → Cortar-Extruir9 (cut)
    with BuildSketch(Plane(origin=(-988.722610523, 2269.199433987, 0), x_dir=(0.916757456915312, 0.3994443205130973, 0), z_dir=(-0.3994443205130973, 0.916757456915312, 0))):
        Polygon((16349.71441733, 14000), (15913.393995846, 13600), (15913.393995846, 14000), align=None)
    extrude(amount=CORTAR_EXTRUIR9_DEPTH, mode=Mode.SUBTRACT)

    # Croquis17 → Cortar-Extruir10 (cut)
    with BuildSketch(Plane(origin=(0, 2269.199433987, 988.722610523), x_dir=(1, 0, 0), z_dir=(-1.4587875677430013e-15, 0.9167574569153109, 0.39944432051309986))):
        Polygon((14000, 15913.393995846), (14000, 16349.71441733), (13600, 15913.393995846), align=None)
    extrude(amount=CORTAR_EXTRUIR10_DEPTH, mode=Mode.SUBTRACT)

    # Croquis18 → Cortar-Extruir11 (cut)
    with BuildSketch(Plane(origin=(0, 2269.199433987, 988.722610523), x_dir=(1, 0, 0), z_dir=(-1.6017007930813528e-15, 0.916757456915311, 0.3994443205130998))):
        Polygon((-14000, 16349.714417329), (-14000, 15913.393995846), (-13600, 15913.393995845), align=None)
    extrude(amount=CORTAR_EXTRUIR11_DEPTH, mode=Mode.SUBTRACT)

    # Croquis19 → Cortar-Extruir12 (cut)
    with BuildSketch(Plane(origin=(988.722610523, 2269.199433987, 0), x_dir=(0.916757456915311, -0.3994443205130998, 0), z_dir=(0.3994443205130998, 0.916757456915311, 0))):
        Polygon((-15913.393995845, 14000), (-16349.714417329, 14000), (-15913.393995845, 13600), align=None)
    extrude(amount=CORTAR_EXTRUIR12_DEPTH, mode=Mode.SUBTRACT)

    # Croquis20 → Cortar-Extruir13 (cut)
    with BuildSketch(Plane(origin=(988.722610523, 2269.199433987, 0), x_dir=(0.916757456915311, -0.3994443205130998, 0), z_dir=(0.3994443205130998, 0.916757456915311, 0))):
        Polygon((-16349.71441733, -14000), (-15913.393995845, -13600), (-15913.393995845, -14000), align=None)
    extrude(amount=CORTAR_EXTRUIR13_DEPTH, mode=Mode.SUBTRACT)

    # Croquis21 → Cortar-Extruir14 (cut)
    with BuildSketch(Plane(origin=(0, 2269.199433986, -988.722610523), x_dir=(1, 0, 0), z_dir=(1.1876039888753645e-15, 0.916757456915312, -0.3994443205130973))):
        Polygon((-14000, -15830.076145405), (-14000, -16349.71441733), (-13600, -15913.393995845), (-13600, -15830.076145405), align=None)
    extrude(amount=CORTAR_EXTRUIR14_DEPTH, mode=Mode.SUBTRACT)


with BuildPart() as body_4_2_1:
    # Planta → Saliente-Extruir6 (new body)
    with BuildSketch(Plane(origin=(0, 0, 0), x_dir=(1, 0, 0), z_dir=(0, 1, 0))):
        Polygon((0, 12585.786437627), (707.106781187, 13292.893218813), (0, 14000), (-707.106781187, 13292.893218813), align=None)
    extrude(amount=SALIENTE_EXTRUIR6_DEPTH)


with BuildPart() as body_5:
    # Planta → Saliente-Extruir6 2 (new body)
    with BuildSketch(Plane(origin=(0, 0, 0), x_dir=(1, 0, 0), z_dir=(0, 1, 0))):
        Polygon((14000, 0), (13292.893218813, 707.106781187), (12585.786437627, 0), (13292.893218813, -707.106781187), align=None)
    extrude(amount=SALIENTE_EXTRUIR6_2_DEPTH)


with BuildPart() as body_6:
    # Planta → Saliente-Extruir6 3 (new body)
    with BuildSketch(Plane(origin=(0, 0, 0), x_dir=(1, 0, 0), z_dir=(0, 1, 0))):
        Polygon((-707.106781187, -13292.893218813), (0, -14000), (707.106781187, -13292.893218813), (0, -12585.786437627), align=None)
    extrude(amount=SALIENTE_EXTRUIR6_3_DEPTH)


with BuildPart() as body_7:
    # Planta → Saliente-Extruir6 4 (new body)
    with BuildSketch(Plane(origin=(0, 0, 0), x_dir=(1, 0, 0), z_dir=(0, 1, 0))):
        Polygon((-13292.893218813, 707.106781187), (-14000, 0), (-13292.893218813, -707.106781187), (-12585.786437627, 0), align=None)
    extrude(amount=SALIENTE_EXTRUIR6_4_DEPTH)


solid = Compound([body_2_4.part, body_4_3.part, matrizc12_1_3.part, body_4_2_1.part, body_5.part, body_6.part, body_7.part])
